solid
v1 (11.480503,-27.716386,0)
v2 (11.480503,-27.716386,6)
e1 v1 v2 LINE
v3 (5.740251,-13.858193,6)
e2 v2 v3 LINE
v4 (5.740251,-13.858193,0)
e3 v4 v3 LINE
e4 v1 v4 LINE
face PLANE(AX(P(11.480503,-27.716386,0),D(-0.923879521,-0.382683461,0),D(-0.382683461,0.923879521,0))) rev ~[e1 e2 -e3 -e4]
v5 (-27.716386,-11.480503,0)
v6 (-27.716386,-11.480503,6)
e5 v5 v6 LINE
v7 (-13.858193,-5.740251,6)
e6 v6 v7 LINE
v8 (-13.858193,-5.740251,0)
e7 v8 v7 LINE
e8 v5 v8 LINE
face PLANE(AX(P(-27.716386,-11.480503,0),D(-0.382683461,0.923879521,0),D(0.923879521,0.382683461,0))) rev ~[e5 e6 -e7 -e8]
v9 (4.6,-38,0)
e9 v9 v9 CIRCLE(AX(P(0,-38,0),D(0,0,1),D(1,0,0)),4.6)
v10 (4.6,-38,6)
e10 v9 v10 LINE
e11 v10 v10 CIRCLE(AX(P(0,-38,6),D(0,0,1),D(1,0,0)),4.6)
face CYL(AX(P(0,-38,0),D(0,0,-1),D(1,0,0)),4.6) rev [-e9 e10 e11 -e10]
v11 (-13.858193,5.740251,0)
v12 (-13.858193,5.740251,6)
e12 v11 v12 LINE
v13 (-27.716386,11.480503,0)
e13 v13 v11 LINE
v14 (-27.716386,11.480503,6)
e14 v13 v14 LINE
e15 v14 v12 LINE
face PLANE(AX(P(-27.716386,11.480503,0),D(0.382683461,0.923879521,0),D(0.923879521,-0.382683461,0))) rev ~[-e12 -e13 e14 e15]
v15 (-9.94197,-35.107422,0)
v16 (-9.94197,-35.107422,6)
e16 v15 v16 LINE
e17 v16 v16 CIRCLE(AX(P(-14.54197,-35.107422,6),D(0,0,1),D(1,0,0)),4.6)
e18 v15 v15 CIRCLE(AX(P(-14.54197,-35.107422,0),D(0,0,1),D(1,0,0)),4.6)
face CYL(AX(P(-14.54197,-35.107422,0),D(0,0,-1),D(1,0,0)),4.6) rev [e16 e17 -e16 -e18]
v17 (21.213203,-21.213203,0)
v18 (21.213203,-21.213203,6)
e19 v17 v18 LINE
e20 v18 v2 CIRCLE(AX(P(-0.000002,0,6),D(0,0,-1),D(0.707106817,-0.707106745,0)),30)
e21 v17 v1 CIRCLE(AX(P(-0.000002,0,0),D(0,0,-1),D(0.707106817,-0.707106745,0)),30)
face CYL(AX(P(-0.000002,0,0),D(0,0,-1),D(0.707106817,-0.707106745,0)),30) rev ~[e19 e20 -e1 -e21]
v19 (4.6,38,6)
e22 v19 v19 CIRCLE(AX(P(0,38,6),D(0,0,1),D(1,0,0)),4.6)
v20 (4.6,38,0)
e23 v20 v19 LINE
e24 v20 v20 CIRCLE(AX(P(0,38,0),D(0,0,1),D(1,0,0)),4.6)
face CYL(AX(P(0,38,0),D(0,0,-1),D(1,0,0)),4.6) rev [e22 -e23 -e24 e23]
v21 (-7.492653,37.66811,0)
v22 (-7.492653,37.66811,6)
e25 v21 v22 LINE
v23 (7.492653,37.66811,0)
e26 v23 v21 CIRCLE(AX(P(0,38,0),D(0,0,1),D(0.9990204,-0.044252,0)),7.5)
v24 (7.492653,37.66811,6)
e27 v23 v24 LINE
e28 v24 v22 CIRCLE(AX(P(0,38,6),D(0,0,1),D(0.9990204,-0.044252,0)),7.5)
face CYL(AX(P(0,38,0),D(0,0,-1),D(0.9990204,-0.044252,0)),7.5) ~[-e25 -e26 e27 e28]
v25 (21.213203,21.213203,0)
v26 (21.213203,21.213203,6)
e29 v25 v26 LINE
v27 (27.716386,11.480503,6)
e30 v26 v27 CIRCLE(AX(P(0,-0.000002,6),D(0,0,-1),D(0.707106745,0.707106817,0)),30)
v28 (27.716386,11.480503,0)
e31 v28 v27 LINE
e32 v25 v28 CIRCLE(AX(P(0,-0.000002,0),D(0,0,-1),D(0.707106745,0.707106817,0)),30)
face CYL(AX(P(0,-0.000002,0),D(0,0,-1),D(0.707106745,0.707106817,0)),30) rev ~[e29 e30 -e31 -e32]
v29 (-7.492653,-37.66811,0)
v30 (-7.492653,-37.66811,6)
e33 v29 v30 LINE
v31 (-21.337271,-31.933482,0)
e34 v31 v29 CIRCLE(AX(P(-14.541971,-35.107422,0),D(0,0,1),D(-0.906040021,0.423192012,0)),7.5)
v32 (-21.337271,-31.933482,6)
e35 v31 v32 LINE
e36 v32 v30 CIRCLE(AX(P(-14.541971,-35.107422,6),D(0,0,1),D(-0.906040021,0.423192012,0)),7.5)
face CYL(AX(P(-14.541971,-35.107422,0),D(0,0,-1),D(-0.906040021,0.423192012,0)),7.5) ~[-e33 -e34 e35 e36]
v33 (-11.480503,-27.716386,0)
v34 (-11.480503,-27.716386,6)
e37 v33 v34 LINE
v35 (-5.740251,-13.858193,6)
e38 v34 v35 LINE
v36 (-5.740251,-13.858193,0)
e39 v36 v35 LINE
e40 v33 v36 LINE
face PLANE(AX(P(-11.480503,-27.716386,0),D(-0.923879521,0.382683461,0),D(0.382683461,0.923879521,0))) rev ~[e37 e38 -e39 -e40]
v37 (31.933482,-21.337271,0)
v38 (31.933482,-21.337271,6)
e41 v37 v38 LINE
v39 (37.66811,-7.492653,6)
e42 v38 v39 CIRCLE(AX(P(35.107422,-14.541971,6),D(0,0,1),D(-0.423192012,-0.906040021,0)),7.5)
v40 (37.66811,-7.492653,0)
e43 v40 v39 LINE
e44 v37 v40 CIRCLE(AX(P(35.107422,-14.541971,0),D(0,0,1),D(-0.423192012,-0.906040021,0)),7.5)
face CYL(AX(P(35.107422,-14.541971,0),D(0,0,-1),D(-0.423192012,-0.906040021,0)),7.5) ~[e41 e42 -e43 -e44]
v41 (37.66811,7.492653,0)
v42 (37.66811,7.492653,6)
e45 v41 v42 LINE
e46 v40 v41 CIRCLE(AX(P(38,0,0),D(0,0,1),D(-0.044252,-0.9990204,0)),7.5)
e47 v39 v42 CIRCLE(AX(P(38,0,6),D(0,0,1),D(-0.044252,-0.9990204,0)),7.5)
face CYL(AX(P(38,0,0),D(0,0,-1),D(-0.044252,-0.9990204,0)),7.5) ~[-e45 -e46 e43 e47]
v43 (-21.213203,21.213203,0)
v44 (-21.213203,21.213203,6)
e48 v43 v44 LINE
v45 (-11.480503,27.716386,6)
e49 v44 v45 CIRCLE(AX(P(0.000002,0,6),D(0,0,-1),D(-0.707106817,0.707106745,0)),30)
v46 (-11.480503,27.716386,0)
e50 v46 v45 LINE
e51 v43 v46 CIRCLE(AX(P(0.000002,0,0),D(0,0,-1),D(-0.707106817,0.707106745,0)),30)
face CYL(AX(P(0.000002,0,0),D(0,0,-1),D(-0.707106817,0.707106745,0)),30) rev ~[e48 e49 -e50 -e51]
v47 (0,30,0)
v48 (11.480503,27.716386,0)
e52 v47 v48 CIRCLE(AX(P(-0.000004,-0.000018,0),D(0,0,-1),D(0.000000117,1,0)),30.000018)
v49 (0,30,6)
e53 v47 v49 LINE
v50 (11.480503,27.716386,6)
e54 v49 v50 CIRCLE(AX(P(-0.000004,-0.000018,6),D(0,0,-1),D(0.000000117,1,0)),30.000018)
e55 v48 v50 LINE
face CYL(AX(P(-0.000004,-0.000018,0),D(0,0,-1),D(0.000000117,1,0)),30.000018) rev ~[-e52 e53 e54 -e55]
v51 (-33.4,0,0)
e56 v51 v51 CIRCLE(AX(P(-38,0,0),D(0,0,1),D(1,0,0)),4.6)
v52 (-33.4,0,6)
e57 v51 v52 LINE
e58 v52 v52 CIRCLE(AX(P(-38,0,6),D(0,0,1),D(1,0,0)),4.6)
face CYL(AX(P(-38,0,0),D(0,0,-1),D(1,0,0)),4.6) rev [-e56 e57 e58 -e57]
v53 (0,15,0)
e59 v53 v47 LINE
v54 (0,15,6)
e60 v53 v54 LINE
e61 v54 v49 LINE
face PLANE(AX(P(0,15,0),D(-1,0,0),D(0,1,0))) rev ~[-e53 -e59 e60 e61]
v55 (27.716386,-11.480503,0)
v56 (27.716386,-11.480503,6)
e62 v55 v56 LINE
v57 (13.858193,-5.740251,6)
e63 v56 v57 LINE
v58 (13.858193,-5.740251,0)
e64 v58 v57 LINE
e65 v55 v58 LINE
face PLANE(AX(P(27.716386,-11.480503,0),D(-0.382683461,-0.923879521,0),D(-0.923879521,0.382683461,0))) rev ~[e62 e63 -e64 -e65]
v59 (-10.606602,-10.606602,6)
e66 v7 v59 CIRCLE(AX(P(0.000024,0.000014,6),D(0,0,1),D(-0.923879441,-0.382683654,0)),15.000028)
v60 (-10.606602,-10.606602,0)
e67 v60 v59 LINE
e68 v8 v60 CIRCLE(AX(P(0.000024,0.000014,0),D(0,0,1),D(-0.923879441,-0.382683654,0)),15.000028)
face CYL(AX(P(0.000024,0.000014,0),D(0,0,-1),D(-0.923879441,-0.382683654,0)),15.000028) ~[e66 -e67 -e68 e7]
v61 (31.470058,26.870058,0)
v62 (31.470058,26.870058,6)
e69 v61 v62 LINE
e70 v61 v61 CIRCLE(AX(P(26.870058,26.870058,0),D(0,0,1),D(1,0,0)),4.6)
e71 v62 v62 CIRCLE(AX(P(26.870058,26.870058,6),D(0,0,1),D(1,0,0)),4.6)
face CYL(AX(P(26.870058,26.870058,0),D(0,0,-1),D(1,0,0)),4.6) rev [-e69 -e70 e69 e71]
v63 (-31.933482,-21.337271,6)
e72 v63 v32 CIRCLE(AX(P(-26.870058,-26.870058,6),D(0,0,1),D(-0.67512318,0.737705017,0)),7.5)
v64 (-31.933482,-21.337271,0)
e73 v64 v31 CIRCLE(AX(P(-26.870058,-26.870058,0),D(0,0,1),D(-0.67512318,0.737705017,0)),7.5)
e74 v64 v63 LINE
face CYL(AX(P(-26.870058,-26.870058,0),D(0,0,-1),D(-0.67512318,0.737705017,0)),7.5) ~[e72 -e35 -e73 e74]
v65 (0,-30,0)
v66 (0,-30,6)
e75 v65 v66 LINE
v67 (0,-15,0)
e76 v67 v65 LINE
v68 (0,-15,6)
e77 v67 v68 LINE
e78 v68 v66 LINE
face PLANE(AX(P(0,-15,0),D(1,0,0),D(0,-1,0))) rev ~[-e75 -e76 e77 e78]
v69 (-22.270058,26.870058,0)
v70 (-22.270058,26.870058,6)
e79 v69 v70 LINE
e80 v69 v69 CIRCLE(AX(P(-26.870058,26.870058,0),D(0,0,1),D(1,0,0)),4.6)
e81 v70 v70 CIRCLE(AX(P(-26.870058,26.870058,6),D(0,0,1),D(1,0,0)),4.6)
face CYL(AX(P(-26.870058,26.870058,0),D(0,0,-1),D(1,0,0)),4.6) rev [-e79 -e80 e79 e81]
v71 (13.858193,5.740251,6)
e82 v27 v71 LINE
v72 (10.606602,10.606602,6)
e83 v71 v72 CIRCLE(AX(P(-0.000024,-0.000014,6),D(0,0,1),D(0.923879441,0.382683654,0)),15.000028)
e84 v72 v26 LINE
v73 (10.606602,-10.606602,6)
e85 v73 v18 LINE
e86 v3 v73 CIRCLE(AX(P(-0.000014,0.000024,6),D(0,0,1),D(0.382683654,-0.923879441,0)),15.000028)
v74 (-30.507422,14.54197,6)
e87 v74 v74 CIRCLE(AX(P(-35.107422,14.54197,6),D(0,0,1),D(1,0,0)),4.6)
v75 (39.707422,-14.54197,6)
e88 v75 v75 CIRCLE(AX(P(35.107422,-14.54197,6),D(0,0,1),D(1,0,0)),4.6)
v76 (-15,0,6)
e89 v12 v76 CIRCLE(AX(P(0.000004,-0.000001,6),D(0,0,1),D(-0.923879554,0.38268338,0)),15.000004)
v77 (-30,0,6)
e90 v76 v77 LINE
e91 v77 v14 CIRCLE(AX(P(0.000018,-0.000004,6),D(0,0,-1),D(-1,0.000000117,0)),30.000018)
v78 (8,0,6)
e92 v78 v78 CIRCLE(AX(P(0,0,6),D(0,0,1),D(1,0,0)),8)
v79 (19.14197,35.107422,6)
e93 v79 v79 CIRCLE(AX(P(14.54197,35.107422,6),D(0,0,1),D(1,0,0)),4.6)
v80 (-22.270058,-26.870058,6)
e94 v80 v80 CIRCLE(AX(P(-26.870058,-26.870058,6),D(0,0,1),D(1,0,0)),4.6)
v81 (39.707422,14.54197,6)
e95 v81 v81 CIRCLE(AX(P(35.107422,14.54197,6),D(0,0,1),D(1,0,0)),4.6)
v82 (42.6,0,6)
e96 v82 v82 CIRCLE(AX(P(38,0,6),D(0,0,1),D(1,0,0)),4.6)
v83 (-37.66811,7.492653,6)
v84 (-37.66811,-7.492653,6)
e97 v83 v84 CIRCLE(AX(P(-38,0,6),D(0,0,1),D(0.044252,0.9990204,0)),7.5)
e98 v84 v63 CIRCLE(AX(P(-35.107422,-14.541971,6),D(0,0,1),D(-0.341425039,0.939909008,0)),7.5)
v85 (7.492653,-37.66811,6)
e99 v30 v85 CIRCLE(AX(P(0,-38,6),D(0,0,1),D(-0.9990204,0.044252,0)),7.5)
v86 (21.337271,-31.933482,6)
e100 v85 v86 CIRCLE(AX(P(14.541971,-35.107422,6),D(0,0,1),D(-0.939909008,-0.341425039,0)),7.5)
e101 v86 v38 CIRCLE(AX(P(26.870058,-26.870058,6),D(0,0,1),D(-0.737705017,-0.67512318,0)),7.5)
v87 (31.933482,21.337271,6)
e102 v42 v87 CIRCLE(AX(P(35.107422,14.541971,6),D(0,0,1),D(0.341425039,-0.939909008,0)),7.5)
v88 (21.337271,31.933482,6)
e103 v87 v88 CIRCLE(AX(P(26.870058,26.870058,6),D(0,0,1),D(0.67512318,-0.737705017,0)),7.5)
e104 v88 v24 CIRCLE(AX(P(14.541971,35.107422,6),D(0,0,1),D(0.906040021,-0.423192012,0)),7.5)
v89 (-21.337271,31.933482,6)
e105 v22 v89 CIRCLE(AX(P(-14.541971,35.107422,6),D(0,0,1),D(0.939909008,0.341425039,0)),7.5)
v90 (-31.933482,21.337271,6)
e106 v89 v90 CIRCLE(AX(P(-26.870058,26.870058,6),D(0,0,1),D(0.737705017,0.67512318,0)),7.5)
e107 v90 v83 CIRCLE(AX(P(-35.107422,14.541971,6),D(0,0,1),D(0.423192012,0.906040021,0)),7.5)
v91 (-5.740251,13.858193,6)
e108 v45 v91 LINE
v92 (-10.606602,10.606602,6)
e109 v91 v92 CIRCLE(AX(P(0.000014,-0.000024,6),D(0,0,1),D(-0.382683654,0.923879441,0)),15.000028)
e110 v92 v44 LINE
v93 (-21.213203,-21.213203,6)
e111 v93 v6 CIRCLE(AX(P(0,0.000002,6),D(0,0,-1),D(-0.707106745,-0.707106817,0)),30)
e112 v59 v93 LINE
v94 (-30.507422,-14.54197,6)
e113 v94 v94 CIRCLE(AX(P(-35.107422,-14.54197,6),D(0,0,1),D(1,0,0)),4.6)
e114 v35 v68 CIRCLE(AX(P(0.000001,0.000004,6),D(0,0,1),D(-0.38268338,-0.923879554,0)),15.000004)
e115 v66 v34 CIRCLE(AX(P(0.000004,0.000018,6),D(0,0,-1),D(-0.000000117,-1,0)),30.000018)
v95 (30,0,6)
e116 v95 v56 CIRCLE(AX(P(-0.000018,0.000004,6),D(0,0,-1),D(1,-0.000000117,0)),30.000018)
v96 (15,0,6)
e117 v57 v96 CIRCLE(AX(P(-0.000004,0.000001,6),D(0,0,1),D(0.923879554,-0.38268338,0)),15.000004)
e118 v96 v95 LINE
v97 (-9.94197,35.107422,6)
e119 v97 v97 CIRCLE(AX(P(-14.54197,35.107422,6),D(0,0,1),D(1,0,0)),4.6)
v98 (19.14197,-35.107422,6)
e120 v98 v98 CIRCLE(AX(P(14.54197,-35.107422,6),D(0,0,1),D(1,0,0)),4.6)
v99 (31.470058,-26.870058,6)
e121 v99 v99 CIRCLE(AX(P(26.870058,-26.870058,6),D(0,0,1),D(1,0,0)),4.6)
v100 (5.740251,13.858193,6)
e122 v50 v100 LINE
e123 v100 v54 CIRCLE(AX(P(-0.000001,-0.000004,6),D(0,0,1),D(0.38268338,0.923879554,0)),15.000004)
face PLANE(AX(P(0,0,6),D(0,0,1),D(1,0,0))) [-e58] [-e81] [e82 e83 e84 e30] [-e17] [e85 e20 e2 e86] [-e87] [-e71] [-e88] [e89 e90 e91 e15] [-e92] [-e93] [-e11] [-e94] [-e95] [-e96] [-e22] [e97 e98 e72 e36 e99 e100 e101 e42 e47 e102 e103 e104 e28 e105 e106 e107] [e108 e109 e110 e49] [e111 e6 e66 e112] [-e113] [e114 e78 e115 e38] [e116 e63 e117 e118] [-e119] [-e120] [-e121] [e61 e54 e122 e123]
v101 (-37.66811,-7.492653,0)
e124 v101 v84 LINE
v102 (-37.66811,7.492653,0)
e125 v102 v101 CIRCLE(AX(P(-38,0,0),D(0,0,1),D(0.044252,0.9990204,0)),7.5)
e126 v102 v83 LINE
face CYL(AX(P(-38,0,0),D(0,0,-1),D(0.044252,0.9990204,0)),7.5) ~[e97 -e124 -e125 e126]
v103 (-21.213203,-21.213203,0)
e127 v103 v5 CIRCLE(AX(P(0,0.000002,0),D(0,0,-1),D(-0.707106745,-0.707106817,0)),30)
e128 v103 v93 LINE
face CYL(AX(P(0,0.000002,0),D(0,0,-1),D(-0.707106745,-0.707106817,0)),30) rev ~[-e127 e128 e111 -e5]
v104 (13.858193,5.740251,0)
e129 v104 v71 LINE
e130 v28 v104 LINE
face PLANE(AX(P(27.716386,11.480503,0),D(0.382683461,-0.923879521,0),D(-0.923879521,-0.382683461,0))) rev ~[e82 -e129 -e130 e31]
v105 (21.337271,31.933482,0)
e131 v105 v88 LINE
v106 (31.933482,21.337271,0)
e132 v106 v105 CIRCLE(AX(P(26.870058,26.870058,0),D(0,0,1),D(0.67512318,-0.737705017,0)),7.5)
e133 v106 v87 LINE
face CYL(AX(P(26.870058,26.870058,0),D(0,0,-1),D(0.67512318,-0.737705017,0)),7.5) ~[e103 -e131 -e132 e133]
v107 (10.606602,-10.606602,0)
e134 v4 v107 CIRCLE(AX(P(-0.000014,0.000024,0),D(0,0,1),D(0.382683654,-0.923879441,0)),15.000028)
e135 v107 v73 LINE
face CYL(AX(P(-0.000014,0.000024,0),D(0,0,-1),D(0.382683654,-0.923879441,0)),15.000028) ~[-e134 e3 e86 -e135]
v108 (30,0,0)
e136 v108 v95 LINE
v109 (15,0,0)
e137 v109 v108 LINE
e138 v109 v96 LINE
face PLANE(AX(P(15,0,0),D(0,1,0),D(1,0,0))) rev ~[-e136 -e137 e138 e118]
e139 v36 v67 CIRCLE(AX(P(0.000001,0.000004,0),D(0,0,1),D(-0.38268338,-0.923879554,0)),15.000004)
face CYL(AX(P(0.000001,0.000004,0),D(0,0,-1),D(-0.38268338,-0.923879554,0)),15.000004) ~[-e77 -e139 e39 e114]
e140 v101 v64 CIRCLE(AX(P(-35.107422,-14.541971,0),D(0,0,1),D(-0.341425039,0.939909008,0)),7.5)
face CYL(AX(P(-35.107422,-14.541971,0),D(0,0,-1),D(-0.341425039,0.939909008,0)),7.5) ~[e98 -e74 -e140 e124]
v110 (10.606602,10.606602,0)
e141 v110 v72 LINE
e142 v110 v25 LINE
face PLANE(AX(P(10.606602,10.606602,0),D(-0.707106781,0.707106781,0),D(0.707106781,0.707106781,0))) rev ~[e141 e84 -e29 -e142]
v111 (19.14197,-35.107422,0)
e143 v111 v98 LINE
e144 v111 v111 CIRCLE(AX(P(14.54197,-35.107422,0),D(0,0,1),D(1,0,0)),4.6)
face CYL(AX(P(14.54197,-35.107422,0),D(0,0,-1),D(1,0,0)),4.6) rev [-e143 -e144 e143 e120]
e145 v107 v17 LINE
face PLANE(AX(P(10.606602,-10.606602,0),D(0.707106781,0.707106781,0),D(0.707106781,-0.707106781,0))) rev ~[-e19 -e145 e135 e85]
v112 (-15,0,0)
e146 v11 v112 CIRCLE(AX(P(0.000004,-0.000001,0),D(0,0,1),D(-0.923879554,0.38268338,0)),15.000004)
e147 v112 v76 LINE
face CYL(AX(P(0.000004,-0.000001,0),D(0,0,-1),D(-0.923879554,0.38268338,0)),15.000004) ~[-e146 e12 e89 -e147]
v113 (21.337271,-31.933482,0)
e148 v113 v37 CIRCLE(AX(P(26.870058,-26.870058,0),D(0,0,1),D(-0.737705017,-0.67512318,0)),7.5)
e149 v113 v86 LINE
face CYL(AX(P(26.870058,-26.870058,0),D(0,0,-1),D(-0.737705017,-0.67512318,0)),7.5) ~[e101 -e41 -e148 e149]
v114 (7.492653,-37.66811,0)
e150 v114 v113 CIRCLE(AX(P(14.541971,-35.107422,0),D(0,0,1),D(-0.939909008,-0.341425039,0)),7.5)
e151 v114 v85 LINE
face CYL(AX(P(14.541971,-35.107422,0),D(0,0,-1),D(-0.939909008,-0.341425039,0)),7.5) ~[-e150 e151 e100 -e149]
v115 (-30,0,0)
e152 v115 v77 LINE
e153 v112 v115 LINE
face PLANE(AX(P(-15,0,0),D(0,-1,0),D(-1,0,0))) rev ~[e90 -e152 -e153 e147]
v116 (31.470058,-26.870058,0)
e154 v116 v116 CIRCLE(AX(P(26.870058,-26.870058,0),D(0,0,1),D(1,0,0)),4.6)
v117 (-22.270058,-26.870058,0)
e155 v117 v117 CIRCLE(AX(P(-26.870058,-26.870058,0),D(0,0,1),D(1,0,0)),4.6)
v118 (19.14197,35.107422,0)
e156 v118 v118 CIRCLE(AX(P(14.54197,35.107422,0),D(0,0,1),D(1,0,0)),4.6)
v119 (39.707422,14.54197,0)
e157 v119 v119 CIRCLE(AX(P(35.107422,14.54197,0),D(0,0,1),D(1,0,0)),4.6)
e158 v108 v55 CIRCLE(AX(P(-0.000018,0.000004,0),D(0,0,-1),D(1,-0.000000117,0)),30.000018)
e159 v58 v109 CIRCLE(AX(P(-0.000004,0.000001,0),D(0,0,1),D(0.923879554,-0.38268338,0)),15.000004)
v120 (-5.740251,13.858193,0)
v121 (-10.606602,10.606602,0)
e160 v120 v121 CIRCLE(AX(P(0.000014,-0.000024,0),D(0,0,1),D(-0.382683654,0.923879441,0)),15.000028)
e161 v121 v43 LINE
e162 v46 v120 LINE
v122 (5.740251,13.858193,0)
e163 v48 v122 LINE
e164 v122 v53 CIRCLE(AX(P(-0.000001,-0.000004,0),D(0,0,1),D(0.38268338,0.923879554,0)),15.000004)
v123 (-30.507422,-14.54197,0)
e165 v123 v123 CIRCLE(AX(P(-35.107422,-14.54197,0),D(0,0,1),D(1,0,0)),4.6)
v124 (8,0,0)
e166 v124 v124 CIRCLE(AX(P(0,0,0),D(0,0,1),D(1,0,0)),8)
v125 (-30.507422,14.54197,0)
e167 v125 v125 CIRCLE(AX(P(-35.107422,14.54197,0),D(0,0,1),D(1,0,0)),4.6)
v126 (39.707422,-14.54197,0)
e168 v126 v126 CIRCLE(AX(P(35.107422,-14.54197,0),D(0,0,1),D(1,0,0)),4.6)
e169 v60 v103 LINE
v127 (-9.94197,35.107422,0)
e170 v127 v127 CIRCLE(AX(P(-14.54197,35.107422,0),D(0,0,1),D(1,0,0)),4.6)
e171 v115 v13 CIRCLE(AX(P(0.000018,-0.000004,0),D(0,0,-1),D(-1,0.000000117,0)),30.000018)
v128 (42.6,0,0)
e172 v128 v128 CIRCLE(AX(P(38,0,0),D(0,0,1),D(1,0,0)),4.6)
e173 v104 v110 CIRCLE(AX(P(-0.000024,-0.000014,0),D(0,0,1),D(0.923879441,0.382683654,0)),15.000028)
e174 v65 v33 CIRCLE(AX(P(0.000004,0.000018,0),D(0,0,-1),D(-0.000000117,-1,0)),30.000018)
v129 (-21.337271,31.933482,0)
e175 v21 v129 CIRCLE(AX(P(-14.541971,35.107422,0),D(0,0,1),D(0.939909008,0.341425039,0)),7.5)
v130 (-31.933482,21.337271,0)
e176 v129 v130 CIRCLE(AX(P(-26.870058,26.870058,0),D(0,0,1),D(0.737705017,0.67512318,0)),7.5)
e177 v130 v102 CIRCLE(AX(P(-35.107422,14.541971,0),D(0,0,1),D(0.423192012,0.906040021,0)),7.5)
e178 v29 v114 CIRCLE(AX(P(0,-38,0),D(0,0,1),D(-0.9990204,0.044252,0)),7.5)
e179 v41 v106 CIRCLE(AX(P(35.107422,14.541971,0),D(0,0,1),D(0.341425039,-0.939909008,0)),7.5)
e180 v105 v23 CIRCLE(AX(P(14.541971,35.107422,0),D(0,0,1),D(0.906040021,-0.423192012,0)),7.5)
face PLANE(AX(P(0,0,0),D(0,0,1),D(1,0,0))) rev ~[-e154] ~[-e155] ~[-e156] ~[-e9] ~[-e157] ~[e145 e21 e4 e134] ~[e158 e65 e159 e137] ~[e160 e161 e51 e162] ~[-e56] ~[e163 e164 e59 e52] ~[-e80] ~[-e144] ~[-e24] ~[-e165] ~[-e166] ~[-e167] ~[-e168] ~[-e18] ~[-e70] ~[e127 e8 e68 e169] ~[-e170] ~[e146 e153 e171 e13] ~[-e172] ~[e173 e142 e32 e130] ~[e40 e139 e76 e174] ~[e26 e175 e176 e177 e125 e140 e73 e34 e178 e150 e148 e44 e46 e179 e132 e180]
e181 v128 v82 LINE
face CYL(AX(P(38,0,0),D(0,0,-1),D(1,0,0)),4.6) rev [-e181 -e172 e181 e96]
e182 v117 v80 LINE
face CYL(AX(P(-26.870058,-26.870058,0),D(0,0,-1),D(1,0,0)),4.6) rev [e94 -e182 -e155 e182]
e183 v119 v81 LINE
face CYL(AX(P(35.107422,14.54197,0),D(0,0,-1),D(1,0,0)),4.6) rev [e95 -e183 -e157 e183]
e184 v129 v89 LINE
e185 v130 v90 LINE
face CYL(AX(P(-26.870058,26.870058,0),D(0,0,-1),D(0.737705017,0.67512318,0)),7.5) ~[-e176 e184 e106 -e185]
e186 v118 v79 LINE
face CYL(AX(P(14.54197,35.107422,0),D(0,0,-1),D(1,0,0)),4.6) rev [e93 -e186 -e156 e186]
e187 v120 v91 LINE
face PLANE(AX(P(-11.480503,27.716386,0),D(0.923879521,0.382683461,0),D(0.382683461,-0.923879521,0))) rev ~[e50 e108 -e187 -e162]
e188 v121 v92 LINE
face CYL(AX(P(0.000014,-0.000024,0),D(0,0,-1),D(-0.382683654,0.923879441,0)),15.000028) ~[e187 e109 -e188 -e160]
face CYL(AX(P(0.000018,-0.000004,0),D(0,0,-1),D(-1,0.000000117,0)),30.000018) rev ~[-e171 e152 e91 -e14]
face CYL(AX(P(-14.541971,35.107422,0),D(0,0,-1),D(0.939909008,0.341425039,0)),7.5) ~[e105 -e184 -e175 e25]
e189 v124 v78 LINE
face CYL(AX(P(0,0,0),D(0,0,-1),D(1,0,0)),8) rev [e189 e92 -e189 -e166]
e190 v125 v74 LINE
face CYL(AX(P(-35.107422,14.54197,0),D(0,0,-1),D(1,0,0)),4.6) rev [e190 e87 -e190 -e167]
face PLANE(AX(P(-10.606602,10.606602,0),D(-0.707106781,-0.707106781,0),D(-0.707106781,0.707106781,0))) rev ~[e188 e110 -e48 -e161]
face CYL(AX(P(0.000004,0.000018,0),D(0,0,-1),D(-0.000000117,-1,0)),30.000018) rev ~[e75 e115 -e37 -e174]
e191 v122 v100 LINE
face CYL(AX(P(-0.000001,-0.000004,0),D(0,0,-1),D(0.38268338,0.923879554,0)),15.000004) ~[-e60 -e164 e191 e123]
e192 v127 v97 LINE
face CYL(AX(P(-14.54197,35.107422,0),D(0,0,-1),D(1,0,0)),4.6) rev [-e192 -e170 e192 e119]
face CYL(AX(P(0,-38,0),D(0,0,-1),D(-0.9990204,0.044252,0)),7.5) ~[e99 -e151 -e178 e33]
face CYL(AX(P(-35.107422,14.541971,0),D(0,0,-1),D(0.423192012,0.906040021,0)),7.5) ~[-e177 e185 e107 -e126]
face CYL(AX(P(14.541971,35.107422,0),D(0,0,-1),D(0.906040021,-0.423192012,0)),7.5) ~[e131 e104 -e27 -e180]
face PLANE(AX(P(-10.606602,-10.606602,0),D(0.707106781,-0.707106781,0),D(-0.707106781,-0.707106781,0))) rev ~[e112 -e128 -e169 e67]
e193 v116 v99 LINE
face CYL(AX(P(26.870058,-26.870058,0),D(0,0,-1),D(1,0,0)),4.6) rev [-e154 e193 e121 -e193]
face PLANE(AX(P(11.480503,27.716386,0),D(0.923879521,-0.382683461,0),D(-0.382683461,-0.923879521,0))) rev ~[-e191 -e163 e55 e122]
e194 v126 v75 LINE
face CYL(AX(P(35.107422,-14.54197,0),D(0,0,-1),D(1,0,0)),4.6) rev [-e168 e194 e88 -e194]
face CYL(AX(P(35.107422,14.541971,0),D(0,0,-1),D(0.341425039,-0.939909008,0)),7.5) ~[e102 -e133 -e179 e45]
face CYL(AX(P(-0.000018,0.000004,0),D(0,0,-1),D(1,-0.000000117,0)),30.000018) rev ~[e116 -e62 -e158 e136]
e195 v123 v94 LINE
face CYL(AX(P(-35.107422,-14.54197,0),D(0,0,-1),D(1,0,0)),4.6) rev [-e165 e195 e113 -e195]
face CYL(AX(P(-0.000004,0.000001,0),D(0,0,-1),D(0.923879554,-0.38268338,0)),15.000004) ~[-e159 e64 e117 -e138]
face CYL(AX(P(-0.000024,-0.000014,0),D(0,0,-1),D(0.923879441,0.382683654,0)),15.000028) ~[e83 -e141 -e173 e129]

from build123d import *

# Parameters (mm, degrees)
F0_R     = 4.6
F0_R_2   = 8
F1_DEPTH = 6


with BuildPart() as f1:
    # F0 (on Top) → F1 (new body)
    with BuildSketch(Plane.XY):
        with BuildLine():
            ThreePointArc((21.337271, 31.933482), (17.412096, 42.036519), (7.492653, 37.66811))
            ThreePointArc((7.492653, 37.66811), (0, 45.5), (-7.492653, 37.66811))
            ThreePointArc((-7.492653, 37.66811), (-17.412096, 42.036519), (-21.337271, 31.933482))
            ThreePointArc((-21.337271, 31.933482), (-32.173359, 32.173359), (-31.933482, 21.337271))
            ThreePointArc((-31.933482, 21.337271), (-42.036519, 17.412096), (-37.66811, 7.492653))
            ThreePointArc((-37.66811, 7.492653), (-45.5, 0), (-37.66811, -7.492653))
            ThreePointArc((-37.66811, -7.492653), (-42.036519, -17.412096), (-31.933482, -21.337271))
            ThreePointArc((-31.933482, -21.337271), (-32.173359, -32.173359), (-21.337271, -31.933482))
            ThreePointArc((-21.337271, -31.933482), (-17.412096, -42.036519), (-7.492653, -37.66811))
            ThreePointArc((-7.492653, -37.66811), (0, -45.5), (7.492653, -37.66811))
            ThreePointArc((7.492653, -37.66811), (17.412096, -42.036519), (21.337271, -31.933482))
            ThreePointArc((21.337271, -31.933482), (32.173359, -32.173359), (31.933482, -21.337271))
            ThreePointArc((31.933482, -21.337271), (42.036519, -17.412096), (37.66811, -7.492653))
            ThreePointArc((37.66811, -7.492653), (45.5, 0), (37.66811, 7.492653))
            ThreePointArc((37.66811, 7.492653), (42.036519, 17.412096), (31.933482, 21.337271))
            ThreePointArc((31.933482, 21.337271), (32.173359, 32.173359), (21.337271, 31.933482))
        make_face()
        with Locations((-26.870058, -26.870058)):
            Circle(F0_R, mode=Mode.SUBTRACT)
        with Locations((-14.54197, -35.107422)):
            Circle(F0_R, mode=Mode.SUBTRACT)
        with Locations((-35.107422, -14.54197)):
            Circle(F0_R, mode=Mode.SUBTRACT)
        with BuildLine():
            ThreePointArc((-21.213203, -21.213203), (-24.944088, -16.667107), (-27.716386, -11.480503))
            Line((-27.716386, -11.480503), (-13.858193, -5.740251))
            ThreePointArc((-13.858193, -5.740251), (-12.472044, -8.333553), (-10.606602, -10.606602))
            Line((-10.606602, -10.606602), (-21.213203, -21.213203))
        make_face(mode=Mode.SUBTRACT)
        with BuildLine():
            ThreePointArc((0, -30), (-5.85271, -29.423558), (-11.480503, -27.716386))
            Line((-11.480503, -27.716386), (-5.740251, -13.858193))
            ThreePointArc((-5.740251, -13.858193), (-2.926355, -14.711779), (0, -15))
            Line((0, -15), (0, -30))
        make_face(mode=Mode.SUBTRACT)
        with Locations((0, -38)):
            Circle(F0_R, mode=Mode.SUBTRACT)
        with Locations((14.54197, -35.107422)):
            Circle(F0_R, mode=Mode.SUBTRACT)
        with Locations((26.870058, -26.870058)):
            Circle(F0_R, mode=Mode.SUBTRACT)
        with BuildLine():
            ThreePointArc((21.213203, -21.213203), (16.667107, -24.944088), (11.480503, -27.716386))
            Line((11.480503, -27.716386), (5.740251, -13.858193))
            ThreePointArc((5.740251, -13.858193), (8.333553, -12.472044), (10.606602, -10.606602))
            Line((10.606602, -10.606602), (21.213203, -21.213203))
        make_face(mode=Mode.SUBTRACT)
        with BuildLine():
            ThreePointArc((30, 0), (29.423558, -5.85271), (27.716386, -11.480503))
            Line((27.716386, -11.480503), (13.858193, -5.740251))
            ThreePointArc((13.858193, -5.740251), (14.711779, -2.926355), (15, 0))
            Line((15, 0), (30, 0))
        make_face(mode=Mode.SUBTRACT)
        with Locations((35.107422, -14.54197)):
            Circle(F0_R, mode=Mode.SUBTRACT)
        with Locations((-38, 0)):
            Circle(F0_R, mode=Mode.SUBTRACT)
        with Locations((-35.107422, 14.54197)):
            Circle(F0_R, mode=Mode.SUBTRACT)
        with BuildLine():
            ThreePointArc((-30, 0), (-29.423558, 5.85271), (-27.716386, 11.480503))
            Line((-27.716386, 11.480503), (-13.858193, 5.740251))
            ThreePointArc((-13.858193, 5.740251), (-14.711779, 2.926355), (-15, 0))
            Line((-15, 0), (-30, 0))
        make_face(mode=Mode.SUBTRACT)
        with BuildLine():
            ThreePointArc((-21.213203, 21.213203), (-16.667107, 24.944088), (-11.480503, 27.716386))
            Line((-11.480503, 27.716386), (-5.740251, 13.858193))
            ThreePointArc((-5.740251, 13.858193), (-8.333553, 12.472044), (-10.606602, 10.606602))
            Line((-10.606602, 10.606602), (-21.213203, 21.213203))
        make_face(mode=Mode.SUBTRACT)
        with Locations((-26.870058, 26.870058)):
            Circle(F0_R, mode=Mode.SUBTRACT)
        with Locations((-14.54197, 35.107422)):
            Circle(F0_R, mode=Mode.SUBTRACT)
        Circle(F0_R_2, mode=Mode.SUBTRACT)
        with BuildLine():
            ThreePointArc((0, 30), (5.85271, 29.423558), (11.480503, 27.716386))
            Line((11.480503, 27.716386), (5.740251, 13.858193))
            ThreePointArc((5.740251, 13.858193), (2.926355, 14.711779), (0, 15))
            Line((0, 15), (0, 30))
        make_face(mode=Mode.SUBTRACT)
        with BuildLine():
            ThreePointArc((21.213203, 21.213203), (24.944088, 16.667107), (27.716386, 11.480503))
            Line((27.716386, 11.480503), (13.858193, 5.740251))
            ThreePointArc((13.858193, 5.740251), (12.472044, 8.333553), (10.606602, 10.606602))
            Line((10.606602, 10.606602), (21.213203, 21.213203))
        make_face(mode=Mode.SUBTRACT)
        with Locations((38, 0)):
            Circle(F0_R, mode=Mode.SUBTRACT)
        with Locations((35.107422, 14.54197)):
            Circle(F0_R, mode=Mode.SUBTRACT)
        with Locations((0, 38)):
            Circle(F0_R, mode=Mode.SUBTRACT)
        with Locations((14.54197, 35.107422)):
            Circle(F0_R, mode=Mode.SUBTRACT)
        with Locations((26.870058, 26.870058)):
            Circle(F0_R, mode=Mode.SUBTRACT)
    extrude(amount=F1_DEPTH)


solid = f1.part
